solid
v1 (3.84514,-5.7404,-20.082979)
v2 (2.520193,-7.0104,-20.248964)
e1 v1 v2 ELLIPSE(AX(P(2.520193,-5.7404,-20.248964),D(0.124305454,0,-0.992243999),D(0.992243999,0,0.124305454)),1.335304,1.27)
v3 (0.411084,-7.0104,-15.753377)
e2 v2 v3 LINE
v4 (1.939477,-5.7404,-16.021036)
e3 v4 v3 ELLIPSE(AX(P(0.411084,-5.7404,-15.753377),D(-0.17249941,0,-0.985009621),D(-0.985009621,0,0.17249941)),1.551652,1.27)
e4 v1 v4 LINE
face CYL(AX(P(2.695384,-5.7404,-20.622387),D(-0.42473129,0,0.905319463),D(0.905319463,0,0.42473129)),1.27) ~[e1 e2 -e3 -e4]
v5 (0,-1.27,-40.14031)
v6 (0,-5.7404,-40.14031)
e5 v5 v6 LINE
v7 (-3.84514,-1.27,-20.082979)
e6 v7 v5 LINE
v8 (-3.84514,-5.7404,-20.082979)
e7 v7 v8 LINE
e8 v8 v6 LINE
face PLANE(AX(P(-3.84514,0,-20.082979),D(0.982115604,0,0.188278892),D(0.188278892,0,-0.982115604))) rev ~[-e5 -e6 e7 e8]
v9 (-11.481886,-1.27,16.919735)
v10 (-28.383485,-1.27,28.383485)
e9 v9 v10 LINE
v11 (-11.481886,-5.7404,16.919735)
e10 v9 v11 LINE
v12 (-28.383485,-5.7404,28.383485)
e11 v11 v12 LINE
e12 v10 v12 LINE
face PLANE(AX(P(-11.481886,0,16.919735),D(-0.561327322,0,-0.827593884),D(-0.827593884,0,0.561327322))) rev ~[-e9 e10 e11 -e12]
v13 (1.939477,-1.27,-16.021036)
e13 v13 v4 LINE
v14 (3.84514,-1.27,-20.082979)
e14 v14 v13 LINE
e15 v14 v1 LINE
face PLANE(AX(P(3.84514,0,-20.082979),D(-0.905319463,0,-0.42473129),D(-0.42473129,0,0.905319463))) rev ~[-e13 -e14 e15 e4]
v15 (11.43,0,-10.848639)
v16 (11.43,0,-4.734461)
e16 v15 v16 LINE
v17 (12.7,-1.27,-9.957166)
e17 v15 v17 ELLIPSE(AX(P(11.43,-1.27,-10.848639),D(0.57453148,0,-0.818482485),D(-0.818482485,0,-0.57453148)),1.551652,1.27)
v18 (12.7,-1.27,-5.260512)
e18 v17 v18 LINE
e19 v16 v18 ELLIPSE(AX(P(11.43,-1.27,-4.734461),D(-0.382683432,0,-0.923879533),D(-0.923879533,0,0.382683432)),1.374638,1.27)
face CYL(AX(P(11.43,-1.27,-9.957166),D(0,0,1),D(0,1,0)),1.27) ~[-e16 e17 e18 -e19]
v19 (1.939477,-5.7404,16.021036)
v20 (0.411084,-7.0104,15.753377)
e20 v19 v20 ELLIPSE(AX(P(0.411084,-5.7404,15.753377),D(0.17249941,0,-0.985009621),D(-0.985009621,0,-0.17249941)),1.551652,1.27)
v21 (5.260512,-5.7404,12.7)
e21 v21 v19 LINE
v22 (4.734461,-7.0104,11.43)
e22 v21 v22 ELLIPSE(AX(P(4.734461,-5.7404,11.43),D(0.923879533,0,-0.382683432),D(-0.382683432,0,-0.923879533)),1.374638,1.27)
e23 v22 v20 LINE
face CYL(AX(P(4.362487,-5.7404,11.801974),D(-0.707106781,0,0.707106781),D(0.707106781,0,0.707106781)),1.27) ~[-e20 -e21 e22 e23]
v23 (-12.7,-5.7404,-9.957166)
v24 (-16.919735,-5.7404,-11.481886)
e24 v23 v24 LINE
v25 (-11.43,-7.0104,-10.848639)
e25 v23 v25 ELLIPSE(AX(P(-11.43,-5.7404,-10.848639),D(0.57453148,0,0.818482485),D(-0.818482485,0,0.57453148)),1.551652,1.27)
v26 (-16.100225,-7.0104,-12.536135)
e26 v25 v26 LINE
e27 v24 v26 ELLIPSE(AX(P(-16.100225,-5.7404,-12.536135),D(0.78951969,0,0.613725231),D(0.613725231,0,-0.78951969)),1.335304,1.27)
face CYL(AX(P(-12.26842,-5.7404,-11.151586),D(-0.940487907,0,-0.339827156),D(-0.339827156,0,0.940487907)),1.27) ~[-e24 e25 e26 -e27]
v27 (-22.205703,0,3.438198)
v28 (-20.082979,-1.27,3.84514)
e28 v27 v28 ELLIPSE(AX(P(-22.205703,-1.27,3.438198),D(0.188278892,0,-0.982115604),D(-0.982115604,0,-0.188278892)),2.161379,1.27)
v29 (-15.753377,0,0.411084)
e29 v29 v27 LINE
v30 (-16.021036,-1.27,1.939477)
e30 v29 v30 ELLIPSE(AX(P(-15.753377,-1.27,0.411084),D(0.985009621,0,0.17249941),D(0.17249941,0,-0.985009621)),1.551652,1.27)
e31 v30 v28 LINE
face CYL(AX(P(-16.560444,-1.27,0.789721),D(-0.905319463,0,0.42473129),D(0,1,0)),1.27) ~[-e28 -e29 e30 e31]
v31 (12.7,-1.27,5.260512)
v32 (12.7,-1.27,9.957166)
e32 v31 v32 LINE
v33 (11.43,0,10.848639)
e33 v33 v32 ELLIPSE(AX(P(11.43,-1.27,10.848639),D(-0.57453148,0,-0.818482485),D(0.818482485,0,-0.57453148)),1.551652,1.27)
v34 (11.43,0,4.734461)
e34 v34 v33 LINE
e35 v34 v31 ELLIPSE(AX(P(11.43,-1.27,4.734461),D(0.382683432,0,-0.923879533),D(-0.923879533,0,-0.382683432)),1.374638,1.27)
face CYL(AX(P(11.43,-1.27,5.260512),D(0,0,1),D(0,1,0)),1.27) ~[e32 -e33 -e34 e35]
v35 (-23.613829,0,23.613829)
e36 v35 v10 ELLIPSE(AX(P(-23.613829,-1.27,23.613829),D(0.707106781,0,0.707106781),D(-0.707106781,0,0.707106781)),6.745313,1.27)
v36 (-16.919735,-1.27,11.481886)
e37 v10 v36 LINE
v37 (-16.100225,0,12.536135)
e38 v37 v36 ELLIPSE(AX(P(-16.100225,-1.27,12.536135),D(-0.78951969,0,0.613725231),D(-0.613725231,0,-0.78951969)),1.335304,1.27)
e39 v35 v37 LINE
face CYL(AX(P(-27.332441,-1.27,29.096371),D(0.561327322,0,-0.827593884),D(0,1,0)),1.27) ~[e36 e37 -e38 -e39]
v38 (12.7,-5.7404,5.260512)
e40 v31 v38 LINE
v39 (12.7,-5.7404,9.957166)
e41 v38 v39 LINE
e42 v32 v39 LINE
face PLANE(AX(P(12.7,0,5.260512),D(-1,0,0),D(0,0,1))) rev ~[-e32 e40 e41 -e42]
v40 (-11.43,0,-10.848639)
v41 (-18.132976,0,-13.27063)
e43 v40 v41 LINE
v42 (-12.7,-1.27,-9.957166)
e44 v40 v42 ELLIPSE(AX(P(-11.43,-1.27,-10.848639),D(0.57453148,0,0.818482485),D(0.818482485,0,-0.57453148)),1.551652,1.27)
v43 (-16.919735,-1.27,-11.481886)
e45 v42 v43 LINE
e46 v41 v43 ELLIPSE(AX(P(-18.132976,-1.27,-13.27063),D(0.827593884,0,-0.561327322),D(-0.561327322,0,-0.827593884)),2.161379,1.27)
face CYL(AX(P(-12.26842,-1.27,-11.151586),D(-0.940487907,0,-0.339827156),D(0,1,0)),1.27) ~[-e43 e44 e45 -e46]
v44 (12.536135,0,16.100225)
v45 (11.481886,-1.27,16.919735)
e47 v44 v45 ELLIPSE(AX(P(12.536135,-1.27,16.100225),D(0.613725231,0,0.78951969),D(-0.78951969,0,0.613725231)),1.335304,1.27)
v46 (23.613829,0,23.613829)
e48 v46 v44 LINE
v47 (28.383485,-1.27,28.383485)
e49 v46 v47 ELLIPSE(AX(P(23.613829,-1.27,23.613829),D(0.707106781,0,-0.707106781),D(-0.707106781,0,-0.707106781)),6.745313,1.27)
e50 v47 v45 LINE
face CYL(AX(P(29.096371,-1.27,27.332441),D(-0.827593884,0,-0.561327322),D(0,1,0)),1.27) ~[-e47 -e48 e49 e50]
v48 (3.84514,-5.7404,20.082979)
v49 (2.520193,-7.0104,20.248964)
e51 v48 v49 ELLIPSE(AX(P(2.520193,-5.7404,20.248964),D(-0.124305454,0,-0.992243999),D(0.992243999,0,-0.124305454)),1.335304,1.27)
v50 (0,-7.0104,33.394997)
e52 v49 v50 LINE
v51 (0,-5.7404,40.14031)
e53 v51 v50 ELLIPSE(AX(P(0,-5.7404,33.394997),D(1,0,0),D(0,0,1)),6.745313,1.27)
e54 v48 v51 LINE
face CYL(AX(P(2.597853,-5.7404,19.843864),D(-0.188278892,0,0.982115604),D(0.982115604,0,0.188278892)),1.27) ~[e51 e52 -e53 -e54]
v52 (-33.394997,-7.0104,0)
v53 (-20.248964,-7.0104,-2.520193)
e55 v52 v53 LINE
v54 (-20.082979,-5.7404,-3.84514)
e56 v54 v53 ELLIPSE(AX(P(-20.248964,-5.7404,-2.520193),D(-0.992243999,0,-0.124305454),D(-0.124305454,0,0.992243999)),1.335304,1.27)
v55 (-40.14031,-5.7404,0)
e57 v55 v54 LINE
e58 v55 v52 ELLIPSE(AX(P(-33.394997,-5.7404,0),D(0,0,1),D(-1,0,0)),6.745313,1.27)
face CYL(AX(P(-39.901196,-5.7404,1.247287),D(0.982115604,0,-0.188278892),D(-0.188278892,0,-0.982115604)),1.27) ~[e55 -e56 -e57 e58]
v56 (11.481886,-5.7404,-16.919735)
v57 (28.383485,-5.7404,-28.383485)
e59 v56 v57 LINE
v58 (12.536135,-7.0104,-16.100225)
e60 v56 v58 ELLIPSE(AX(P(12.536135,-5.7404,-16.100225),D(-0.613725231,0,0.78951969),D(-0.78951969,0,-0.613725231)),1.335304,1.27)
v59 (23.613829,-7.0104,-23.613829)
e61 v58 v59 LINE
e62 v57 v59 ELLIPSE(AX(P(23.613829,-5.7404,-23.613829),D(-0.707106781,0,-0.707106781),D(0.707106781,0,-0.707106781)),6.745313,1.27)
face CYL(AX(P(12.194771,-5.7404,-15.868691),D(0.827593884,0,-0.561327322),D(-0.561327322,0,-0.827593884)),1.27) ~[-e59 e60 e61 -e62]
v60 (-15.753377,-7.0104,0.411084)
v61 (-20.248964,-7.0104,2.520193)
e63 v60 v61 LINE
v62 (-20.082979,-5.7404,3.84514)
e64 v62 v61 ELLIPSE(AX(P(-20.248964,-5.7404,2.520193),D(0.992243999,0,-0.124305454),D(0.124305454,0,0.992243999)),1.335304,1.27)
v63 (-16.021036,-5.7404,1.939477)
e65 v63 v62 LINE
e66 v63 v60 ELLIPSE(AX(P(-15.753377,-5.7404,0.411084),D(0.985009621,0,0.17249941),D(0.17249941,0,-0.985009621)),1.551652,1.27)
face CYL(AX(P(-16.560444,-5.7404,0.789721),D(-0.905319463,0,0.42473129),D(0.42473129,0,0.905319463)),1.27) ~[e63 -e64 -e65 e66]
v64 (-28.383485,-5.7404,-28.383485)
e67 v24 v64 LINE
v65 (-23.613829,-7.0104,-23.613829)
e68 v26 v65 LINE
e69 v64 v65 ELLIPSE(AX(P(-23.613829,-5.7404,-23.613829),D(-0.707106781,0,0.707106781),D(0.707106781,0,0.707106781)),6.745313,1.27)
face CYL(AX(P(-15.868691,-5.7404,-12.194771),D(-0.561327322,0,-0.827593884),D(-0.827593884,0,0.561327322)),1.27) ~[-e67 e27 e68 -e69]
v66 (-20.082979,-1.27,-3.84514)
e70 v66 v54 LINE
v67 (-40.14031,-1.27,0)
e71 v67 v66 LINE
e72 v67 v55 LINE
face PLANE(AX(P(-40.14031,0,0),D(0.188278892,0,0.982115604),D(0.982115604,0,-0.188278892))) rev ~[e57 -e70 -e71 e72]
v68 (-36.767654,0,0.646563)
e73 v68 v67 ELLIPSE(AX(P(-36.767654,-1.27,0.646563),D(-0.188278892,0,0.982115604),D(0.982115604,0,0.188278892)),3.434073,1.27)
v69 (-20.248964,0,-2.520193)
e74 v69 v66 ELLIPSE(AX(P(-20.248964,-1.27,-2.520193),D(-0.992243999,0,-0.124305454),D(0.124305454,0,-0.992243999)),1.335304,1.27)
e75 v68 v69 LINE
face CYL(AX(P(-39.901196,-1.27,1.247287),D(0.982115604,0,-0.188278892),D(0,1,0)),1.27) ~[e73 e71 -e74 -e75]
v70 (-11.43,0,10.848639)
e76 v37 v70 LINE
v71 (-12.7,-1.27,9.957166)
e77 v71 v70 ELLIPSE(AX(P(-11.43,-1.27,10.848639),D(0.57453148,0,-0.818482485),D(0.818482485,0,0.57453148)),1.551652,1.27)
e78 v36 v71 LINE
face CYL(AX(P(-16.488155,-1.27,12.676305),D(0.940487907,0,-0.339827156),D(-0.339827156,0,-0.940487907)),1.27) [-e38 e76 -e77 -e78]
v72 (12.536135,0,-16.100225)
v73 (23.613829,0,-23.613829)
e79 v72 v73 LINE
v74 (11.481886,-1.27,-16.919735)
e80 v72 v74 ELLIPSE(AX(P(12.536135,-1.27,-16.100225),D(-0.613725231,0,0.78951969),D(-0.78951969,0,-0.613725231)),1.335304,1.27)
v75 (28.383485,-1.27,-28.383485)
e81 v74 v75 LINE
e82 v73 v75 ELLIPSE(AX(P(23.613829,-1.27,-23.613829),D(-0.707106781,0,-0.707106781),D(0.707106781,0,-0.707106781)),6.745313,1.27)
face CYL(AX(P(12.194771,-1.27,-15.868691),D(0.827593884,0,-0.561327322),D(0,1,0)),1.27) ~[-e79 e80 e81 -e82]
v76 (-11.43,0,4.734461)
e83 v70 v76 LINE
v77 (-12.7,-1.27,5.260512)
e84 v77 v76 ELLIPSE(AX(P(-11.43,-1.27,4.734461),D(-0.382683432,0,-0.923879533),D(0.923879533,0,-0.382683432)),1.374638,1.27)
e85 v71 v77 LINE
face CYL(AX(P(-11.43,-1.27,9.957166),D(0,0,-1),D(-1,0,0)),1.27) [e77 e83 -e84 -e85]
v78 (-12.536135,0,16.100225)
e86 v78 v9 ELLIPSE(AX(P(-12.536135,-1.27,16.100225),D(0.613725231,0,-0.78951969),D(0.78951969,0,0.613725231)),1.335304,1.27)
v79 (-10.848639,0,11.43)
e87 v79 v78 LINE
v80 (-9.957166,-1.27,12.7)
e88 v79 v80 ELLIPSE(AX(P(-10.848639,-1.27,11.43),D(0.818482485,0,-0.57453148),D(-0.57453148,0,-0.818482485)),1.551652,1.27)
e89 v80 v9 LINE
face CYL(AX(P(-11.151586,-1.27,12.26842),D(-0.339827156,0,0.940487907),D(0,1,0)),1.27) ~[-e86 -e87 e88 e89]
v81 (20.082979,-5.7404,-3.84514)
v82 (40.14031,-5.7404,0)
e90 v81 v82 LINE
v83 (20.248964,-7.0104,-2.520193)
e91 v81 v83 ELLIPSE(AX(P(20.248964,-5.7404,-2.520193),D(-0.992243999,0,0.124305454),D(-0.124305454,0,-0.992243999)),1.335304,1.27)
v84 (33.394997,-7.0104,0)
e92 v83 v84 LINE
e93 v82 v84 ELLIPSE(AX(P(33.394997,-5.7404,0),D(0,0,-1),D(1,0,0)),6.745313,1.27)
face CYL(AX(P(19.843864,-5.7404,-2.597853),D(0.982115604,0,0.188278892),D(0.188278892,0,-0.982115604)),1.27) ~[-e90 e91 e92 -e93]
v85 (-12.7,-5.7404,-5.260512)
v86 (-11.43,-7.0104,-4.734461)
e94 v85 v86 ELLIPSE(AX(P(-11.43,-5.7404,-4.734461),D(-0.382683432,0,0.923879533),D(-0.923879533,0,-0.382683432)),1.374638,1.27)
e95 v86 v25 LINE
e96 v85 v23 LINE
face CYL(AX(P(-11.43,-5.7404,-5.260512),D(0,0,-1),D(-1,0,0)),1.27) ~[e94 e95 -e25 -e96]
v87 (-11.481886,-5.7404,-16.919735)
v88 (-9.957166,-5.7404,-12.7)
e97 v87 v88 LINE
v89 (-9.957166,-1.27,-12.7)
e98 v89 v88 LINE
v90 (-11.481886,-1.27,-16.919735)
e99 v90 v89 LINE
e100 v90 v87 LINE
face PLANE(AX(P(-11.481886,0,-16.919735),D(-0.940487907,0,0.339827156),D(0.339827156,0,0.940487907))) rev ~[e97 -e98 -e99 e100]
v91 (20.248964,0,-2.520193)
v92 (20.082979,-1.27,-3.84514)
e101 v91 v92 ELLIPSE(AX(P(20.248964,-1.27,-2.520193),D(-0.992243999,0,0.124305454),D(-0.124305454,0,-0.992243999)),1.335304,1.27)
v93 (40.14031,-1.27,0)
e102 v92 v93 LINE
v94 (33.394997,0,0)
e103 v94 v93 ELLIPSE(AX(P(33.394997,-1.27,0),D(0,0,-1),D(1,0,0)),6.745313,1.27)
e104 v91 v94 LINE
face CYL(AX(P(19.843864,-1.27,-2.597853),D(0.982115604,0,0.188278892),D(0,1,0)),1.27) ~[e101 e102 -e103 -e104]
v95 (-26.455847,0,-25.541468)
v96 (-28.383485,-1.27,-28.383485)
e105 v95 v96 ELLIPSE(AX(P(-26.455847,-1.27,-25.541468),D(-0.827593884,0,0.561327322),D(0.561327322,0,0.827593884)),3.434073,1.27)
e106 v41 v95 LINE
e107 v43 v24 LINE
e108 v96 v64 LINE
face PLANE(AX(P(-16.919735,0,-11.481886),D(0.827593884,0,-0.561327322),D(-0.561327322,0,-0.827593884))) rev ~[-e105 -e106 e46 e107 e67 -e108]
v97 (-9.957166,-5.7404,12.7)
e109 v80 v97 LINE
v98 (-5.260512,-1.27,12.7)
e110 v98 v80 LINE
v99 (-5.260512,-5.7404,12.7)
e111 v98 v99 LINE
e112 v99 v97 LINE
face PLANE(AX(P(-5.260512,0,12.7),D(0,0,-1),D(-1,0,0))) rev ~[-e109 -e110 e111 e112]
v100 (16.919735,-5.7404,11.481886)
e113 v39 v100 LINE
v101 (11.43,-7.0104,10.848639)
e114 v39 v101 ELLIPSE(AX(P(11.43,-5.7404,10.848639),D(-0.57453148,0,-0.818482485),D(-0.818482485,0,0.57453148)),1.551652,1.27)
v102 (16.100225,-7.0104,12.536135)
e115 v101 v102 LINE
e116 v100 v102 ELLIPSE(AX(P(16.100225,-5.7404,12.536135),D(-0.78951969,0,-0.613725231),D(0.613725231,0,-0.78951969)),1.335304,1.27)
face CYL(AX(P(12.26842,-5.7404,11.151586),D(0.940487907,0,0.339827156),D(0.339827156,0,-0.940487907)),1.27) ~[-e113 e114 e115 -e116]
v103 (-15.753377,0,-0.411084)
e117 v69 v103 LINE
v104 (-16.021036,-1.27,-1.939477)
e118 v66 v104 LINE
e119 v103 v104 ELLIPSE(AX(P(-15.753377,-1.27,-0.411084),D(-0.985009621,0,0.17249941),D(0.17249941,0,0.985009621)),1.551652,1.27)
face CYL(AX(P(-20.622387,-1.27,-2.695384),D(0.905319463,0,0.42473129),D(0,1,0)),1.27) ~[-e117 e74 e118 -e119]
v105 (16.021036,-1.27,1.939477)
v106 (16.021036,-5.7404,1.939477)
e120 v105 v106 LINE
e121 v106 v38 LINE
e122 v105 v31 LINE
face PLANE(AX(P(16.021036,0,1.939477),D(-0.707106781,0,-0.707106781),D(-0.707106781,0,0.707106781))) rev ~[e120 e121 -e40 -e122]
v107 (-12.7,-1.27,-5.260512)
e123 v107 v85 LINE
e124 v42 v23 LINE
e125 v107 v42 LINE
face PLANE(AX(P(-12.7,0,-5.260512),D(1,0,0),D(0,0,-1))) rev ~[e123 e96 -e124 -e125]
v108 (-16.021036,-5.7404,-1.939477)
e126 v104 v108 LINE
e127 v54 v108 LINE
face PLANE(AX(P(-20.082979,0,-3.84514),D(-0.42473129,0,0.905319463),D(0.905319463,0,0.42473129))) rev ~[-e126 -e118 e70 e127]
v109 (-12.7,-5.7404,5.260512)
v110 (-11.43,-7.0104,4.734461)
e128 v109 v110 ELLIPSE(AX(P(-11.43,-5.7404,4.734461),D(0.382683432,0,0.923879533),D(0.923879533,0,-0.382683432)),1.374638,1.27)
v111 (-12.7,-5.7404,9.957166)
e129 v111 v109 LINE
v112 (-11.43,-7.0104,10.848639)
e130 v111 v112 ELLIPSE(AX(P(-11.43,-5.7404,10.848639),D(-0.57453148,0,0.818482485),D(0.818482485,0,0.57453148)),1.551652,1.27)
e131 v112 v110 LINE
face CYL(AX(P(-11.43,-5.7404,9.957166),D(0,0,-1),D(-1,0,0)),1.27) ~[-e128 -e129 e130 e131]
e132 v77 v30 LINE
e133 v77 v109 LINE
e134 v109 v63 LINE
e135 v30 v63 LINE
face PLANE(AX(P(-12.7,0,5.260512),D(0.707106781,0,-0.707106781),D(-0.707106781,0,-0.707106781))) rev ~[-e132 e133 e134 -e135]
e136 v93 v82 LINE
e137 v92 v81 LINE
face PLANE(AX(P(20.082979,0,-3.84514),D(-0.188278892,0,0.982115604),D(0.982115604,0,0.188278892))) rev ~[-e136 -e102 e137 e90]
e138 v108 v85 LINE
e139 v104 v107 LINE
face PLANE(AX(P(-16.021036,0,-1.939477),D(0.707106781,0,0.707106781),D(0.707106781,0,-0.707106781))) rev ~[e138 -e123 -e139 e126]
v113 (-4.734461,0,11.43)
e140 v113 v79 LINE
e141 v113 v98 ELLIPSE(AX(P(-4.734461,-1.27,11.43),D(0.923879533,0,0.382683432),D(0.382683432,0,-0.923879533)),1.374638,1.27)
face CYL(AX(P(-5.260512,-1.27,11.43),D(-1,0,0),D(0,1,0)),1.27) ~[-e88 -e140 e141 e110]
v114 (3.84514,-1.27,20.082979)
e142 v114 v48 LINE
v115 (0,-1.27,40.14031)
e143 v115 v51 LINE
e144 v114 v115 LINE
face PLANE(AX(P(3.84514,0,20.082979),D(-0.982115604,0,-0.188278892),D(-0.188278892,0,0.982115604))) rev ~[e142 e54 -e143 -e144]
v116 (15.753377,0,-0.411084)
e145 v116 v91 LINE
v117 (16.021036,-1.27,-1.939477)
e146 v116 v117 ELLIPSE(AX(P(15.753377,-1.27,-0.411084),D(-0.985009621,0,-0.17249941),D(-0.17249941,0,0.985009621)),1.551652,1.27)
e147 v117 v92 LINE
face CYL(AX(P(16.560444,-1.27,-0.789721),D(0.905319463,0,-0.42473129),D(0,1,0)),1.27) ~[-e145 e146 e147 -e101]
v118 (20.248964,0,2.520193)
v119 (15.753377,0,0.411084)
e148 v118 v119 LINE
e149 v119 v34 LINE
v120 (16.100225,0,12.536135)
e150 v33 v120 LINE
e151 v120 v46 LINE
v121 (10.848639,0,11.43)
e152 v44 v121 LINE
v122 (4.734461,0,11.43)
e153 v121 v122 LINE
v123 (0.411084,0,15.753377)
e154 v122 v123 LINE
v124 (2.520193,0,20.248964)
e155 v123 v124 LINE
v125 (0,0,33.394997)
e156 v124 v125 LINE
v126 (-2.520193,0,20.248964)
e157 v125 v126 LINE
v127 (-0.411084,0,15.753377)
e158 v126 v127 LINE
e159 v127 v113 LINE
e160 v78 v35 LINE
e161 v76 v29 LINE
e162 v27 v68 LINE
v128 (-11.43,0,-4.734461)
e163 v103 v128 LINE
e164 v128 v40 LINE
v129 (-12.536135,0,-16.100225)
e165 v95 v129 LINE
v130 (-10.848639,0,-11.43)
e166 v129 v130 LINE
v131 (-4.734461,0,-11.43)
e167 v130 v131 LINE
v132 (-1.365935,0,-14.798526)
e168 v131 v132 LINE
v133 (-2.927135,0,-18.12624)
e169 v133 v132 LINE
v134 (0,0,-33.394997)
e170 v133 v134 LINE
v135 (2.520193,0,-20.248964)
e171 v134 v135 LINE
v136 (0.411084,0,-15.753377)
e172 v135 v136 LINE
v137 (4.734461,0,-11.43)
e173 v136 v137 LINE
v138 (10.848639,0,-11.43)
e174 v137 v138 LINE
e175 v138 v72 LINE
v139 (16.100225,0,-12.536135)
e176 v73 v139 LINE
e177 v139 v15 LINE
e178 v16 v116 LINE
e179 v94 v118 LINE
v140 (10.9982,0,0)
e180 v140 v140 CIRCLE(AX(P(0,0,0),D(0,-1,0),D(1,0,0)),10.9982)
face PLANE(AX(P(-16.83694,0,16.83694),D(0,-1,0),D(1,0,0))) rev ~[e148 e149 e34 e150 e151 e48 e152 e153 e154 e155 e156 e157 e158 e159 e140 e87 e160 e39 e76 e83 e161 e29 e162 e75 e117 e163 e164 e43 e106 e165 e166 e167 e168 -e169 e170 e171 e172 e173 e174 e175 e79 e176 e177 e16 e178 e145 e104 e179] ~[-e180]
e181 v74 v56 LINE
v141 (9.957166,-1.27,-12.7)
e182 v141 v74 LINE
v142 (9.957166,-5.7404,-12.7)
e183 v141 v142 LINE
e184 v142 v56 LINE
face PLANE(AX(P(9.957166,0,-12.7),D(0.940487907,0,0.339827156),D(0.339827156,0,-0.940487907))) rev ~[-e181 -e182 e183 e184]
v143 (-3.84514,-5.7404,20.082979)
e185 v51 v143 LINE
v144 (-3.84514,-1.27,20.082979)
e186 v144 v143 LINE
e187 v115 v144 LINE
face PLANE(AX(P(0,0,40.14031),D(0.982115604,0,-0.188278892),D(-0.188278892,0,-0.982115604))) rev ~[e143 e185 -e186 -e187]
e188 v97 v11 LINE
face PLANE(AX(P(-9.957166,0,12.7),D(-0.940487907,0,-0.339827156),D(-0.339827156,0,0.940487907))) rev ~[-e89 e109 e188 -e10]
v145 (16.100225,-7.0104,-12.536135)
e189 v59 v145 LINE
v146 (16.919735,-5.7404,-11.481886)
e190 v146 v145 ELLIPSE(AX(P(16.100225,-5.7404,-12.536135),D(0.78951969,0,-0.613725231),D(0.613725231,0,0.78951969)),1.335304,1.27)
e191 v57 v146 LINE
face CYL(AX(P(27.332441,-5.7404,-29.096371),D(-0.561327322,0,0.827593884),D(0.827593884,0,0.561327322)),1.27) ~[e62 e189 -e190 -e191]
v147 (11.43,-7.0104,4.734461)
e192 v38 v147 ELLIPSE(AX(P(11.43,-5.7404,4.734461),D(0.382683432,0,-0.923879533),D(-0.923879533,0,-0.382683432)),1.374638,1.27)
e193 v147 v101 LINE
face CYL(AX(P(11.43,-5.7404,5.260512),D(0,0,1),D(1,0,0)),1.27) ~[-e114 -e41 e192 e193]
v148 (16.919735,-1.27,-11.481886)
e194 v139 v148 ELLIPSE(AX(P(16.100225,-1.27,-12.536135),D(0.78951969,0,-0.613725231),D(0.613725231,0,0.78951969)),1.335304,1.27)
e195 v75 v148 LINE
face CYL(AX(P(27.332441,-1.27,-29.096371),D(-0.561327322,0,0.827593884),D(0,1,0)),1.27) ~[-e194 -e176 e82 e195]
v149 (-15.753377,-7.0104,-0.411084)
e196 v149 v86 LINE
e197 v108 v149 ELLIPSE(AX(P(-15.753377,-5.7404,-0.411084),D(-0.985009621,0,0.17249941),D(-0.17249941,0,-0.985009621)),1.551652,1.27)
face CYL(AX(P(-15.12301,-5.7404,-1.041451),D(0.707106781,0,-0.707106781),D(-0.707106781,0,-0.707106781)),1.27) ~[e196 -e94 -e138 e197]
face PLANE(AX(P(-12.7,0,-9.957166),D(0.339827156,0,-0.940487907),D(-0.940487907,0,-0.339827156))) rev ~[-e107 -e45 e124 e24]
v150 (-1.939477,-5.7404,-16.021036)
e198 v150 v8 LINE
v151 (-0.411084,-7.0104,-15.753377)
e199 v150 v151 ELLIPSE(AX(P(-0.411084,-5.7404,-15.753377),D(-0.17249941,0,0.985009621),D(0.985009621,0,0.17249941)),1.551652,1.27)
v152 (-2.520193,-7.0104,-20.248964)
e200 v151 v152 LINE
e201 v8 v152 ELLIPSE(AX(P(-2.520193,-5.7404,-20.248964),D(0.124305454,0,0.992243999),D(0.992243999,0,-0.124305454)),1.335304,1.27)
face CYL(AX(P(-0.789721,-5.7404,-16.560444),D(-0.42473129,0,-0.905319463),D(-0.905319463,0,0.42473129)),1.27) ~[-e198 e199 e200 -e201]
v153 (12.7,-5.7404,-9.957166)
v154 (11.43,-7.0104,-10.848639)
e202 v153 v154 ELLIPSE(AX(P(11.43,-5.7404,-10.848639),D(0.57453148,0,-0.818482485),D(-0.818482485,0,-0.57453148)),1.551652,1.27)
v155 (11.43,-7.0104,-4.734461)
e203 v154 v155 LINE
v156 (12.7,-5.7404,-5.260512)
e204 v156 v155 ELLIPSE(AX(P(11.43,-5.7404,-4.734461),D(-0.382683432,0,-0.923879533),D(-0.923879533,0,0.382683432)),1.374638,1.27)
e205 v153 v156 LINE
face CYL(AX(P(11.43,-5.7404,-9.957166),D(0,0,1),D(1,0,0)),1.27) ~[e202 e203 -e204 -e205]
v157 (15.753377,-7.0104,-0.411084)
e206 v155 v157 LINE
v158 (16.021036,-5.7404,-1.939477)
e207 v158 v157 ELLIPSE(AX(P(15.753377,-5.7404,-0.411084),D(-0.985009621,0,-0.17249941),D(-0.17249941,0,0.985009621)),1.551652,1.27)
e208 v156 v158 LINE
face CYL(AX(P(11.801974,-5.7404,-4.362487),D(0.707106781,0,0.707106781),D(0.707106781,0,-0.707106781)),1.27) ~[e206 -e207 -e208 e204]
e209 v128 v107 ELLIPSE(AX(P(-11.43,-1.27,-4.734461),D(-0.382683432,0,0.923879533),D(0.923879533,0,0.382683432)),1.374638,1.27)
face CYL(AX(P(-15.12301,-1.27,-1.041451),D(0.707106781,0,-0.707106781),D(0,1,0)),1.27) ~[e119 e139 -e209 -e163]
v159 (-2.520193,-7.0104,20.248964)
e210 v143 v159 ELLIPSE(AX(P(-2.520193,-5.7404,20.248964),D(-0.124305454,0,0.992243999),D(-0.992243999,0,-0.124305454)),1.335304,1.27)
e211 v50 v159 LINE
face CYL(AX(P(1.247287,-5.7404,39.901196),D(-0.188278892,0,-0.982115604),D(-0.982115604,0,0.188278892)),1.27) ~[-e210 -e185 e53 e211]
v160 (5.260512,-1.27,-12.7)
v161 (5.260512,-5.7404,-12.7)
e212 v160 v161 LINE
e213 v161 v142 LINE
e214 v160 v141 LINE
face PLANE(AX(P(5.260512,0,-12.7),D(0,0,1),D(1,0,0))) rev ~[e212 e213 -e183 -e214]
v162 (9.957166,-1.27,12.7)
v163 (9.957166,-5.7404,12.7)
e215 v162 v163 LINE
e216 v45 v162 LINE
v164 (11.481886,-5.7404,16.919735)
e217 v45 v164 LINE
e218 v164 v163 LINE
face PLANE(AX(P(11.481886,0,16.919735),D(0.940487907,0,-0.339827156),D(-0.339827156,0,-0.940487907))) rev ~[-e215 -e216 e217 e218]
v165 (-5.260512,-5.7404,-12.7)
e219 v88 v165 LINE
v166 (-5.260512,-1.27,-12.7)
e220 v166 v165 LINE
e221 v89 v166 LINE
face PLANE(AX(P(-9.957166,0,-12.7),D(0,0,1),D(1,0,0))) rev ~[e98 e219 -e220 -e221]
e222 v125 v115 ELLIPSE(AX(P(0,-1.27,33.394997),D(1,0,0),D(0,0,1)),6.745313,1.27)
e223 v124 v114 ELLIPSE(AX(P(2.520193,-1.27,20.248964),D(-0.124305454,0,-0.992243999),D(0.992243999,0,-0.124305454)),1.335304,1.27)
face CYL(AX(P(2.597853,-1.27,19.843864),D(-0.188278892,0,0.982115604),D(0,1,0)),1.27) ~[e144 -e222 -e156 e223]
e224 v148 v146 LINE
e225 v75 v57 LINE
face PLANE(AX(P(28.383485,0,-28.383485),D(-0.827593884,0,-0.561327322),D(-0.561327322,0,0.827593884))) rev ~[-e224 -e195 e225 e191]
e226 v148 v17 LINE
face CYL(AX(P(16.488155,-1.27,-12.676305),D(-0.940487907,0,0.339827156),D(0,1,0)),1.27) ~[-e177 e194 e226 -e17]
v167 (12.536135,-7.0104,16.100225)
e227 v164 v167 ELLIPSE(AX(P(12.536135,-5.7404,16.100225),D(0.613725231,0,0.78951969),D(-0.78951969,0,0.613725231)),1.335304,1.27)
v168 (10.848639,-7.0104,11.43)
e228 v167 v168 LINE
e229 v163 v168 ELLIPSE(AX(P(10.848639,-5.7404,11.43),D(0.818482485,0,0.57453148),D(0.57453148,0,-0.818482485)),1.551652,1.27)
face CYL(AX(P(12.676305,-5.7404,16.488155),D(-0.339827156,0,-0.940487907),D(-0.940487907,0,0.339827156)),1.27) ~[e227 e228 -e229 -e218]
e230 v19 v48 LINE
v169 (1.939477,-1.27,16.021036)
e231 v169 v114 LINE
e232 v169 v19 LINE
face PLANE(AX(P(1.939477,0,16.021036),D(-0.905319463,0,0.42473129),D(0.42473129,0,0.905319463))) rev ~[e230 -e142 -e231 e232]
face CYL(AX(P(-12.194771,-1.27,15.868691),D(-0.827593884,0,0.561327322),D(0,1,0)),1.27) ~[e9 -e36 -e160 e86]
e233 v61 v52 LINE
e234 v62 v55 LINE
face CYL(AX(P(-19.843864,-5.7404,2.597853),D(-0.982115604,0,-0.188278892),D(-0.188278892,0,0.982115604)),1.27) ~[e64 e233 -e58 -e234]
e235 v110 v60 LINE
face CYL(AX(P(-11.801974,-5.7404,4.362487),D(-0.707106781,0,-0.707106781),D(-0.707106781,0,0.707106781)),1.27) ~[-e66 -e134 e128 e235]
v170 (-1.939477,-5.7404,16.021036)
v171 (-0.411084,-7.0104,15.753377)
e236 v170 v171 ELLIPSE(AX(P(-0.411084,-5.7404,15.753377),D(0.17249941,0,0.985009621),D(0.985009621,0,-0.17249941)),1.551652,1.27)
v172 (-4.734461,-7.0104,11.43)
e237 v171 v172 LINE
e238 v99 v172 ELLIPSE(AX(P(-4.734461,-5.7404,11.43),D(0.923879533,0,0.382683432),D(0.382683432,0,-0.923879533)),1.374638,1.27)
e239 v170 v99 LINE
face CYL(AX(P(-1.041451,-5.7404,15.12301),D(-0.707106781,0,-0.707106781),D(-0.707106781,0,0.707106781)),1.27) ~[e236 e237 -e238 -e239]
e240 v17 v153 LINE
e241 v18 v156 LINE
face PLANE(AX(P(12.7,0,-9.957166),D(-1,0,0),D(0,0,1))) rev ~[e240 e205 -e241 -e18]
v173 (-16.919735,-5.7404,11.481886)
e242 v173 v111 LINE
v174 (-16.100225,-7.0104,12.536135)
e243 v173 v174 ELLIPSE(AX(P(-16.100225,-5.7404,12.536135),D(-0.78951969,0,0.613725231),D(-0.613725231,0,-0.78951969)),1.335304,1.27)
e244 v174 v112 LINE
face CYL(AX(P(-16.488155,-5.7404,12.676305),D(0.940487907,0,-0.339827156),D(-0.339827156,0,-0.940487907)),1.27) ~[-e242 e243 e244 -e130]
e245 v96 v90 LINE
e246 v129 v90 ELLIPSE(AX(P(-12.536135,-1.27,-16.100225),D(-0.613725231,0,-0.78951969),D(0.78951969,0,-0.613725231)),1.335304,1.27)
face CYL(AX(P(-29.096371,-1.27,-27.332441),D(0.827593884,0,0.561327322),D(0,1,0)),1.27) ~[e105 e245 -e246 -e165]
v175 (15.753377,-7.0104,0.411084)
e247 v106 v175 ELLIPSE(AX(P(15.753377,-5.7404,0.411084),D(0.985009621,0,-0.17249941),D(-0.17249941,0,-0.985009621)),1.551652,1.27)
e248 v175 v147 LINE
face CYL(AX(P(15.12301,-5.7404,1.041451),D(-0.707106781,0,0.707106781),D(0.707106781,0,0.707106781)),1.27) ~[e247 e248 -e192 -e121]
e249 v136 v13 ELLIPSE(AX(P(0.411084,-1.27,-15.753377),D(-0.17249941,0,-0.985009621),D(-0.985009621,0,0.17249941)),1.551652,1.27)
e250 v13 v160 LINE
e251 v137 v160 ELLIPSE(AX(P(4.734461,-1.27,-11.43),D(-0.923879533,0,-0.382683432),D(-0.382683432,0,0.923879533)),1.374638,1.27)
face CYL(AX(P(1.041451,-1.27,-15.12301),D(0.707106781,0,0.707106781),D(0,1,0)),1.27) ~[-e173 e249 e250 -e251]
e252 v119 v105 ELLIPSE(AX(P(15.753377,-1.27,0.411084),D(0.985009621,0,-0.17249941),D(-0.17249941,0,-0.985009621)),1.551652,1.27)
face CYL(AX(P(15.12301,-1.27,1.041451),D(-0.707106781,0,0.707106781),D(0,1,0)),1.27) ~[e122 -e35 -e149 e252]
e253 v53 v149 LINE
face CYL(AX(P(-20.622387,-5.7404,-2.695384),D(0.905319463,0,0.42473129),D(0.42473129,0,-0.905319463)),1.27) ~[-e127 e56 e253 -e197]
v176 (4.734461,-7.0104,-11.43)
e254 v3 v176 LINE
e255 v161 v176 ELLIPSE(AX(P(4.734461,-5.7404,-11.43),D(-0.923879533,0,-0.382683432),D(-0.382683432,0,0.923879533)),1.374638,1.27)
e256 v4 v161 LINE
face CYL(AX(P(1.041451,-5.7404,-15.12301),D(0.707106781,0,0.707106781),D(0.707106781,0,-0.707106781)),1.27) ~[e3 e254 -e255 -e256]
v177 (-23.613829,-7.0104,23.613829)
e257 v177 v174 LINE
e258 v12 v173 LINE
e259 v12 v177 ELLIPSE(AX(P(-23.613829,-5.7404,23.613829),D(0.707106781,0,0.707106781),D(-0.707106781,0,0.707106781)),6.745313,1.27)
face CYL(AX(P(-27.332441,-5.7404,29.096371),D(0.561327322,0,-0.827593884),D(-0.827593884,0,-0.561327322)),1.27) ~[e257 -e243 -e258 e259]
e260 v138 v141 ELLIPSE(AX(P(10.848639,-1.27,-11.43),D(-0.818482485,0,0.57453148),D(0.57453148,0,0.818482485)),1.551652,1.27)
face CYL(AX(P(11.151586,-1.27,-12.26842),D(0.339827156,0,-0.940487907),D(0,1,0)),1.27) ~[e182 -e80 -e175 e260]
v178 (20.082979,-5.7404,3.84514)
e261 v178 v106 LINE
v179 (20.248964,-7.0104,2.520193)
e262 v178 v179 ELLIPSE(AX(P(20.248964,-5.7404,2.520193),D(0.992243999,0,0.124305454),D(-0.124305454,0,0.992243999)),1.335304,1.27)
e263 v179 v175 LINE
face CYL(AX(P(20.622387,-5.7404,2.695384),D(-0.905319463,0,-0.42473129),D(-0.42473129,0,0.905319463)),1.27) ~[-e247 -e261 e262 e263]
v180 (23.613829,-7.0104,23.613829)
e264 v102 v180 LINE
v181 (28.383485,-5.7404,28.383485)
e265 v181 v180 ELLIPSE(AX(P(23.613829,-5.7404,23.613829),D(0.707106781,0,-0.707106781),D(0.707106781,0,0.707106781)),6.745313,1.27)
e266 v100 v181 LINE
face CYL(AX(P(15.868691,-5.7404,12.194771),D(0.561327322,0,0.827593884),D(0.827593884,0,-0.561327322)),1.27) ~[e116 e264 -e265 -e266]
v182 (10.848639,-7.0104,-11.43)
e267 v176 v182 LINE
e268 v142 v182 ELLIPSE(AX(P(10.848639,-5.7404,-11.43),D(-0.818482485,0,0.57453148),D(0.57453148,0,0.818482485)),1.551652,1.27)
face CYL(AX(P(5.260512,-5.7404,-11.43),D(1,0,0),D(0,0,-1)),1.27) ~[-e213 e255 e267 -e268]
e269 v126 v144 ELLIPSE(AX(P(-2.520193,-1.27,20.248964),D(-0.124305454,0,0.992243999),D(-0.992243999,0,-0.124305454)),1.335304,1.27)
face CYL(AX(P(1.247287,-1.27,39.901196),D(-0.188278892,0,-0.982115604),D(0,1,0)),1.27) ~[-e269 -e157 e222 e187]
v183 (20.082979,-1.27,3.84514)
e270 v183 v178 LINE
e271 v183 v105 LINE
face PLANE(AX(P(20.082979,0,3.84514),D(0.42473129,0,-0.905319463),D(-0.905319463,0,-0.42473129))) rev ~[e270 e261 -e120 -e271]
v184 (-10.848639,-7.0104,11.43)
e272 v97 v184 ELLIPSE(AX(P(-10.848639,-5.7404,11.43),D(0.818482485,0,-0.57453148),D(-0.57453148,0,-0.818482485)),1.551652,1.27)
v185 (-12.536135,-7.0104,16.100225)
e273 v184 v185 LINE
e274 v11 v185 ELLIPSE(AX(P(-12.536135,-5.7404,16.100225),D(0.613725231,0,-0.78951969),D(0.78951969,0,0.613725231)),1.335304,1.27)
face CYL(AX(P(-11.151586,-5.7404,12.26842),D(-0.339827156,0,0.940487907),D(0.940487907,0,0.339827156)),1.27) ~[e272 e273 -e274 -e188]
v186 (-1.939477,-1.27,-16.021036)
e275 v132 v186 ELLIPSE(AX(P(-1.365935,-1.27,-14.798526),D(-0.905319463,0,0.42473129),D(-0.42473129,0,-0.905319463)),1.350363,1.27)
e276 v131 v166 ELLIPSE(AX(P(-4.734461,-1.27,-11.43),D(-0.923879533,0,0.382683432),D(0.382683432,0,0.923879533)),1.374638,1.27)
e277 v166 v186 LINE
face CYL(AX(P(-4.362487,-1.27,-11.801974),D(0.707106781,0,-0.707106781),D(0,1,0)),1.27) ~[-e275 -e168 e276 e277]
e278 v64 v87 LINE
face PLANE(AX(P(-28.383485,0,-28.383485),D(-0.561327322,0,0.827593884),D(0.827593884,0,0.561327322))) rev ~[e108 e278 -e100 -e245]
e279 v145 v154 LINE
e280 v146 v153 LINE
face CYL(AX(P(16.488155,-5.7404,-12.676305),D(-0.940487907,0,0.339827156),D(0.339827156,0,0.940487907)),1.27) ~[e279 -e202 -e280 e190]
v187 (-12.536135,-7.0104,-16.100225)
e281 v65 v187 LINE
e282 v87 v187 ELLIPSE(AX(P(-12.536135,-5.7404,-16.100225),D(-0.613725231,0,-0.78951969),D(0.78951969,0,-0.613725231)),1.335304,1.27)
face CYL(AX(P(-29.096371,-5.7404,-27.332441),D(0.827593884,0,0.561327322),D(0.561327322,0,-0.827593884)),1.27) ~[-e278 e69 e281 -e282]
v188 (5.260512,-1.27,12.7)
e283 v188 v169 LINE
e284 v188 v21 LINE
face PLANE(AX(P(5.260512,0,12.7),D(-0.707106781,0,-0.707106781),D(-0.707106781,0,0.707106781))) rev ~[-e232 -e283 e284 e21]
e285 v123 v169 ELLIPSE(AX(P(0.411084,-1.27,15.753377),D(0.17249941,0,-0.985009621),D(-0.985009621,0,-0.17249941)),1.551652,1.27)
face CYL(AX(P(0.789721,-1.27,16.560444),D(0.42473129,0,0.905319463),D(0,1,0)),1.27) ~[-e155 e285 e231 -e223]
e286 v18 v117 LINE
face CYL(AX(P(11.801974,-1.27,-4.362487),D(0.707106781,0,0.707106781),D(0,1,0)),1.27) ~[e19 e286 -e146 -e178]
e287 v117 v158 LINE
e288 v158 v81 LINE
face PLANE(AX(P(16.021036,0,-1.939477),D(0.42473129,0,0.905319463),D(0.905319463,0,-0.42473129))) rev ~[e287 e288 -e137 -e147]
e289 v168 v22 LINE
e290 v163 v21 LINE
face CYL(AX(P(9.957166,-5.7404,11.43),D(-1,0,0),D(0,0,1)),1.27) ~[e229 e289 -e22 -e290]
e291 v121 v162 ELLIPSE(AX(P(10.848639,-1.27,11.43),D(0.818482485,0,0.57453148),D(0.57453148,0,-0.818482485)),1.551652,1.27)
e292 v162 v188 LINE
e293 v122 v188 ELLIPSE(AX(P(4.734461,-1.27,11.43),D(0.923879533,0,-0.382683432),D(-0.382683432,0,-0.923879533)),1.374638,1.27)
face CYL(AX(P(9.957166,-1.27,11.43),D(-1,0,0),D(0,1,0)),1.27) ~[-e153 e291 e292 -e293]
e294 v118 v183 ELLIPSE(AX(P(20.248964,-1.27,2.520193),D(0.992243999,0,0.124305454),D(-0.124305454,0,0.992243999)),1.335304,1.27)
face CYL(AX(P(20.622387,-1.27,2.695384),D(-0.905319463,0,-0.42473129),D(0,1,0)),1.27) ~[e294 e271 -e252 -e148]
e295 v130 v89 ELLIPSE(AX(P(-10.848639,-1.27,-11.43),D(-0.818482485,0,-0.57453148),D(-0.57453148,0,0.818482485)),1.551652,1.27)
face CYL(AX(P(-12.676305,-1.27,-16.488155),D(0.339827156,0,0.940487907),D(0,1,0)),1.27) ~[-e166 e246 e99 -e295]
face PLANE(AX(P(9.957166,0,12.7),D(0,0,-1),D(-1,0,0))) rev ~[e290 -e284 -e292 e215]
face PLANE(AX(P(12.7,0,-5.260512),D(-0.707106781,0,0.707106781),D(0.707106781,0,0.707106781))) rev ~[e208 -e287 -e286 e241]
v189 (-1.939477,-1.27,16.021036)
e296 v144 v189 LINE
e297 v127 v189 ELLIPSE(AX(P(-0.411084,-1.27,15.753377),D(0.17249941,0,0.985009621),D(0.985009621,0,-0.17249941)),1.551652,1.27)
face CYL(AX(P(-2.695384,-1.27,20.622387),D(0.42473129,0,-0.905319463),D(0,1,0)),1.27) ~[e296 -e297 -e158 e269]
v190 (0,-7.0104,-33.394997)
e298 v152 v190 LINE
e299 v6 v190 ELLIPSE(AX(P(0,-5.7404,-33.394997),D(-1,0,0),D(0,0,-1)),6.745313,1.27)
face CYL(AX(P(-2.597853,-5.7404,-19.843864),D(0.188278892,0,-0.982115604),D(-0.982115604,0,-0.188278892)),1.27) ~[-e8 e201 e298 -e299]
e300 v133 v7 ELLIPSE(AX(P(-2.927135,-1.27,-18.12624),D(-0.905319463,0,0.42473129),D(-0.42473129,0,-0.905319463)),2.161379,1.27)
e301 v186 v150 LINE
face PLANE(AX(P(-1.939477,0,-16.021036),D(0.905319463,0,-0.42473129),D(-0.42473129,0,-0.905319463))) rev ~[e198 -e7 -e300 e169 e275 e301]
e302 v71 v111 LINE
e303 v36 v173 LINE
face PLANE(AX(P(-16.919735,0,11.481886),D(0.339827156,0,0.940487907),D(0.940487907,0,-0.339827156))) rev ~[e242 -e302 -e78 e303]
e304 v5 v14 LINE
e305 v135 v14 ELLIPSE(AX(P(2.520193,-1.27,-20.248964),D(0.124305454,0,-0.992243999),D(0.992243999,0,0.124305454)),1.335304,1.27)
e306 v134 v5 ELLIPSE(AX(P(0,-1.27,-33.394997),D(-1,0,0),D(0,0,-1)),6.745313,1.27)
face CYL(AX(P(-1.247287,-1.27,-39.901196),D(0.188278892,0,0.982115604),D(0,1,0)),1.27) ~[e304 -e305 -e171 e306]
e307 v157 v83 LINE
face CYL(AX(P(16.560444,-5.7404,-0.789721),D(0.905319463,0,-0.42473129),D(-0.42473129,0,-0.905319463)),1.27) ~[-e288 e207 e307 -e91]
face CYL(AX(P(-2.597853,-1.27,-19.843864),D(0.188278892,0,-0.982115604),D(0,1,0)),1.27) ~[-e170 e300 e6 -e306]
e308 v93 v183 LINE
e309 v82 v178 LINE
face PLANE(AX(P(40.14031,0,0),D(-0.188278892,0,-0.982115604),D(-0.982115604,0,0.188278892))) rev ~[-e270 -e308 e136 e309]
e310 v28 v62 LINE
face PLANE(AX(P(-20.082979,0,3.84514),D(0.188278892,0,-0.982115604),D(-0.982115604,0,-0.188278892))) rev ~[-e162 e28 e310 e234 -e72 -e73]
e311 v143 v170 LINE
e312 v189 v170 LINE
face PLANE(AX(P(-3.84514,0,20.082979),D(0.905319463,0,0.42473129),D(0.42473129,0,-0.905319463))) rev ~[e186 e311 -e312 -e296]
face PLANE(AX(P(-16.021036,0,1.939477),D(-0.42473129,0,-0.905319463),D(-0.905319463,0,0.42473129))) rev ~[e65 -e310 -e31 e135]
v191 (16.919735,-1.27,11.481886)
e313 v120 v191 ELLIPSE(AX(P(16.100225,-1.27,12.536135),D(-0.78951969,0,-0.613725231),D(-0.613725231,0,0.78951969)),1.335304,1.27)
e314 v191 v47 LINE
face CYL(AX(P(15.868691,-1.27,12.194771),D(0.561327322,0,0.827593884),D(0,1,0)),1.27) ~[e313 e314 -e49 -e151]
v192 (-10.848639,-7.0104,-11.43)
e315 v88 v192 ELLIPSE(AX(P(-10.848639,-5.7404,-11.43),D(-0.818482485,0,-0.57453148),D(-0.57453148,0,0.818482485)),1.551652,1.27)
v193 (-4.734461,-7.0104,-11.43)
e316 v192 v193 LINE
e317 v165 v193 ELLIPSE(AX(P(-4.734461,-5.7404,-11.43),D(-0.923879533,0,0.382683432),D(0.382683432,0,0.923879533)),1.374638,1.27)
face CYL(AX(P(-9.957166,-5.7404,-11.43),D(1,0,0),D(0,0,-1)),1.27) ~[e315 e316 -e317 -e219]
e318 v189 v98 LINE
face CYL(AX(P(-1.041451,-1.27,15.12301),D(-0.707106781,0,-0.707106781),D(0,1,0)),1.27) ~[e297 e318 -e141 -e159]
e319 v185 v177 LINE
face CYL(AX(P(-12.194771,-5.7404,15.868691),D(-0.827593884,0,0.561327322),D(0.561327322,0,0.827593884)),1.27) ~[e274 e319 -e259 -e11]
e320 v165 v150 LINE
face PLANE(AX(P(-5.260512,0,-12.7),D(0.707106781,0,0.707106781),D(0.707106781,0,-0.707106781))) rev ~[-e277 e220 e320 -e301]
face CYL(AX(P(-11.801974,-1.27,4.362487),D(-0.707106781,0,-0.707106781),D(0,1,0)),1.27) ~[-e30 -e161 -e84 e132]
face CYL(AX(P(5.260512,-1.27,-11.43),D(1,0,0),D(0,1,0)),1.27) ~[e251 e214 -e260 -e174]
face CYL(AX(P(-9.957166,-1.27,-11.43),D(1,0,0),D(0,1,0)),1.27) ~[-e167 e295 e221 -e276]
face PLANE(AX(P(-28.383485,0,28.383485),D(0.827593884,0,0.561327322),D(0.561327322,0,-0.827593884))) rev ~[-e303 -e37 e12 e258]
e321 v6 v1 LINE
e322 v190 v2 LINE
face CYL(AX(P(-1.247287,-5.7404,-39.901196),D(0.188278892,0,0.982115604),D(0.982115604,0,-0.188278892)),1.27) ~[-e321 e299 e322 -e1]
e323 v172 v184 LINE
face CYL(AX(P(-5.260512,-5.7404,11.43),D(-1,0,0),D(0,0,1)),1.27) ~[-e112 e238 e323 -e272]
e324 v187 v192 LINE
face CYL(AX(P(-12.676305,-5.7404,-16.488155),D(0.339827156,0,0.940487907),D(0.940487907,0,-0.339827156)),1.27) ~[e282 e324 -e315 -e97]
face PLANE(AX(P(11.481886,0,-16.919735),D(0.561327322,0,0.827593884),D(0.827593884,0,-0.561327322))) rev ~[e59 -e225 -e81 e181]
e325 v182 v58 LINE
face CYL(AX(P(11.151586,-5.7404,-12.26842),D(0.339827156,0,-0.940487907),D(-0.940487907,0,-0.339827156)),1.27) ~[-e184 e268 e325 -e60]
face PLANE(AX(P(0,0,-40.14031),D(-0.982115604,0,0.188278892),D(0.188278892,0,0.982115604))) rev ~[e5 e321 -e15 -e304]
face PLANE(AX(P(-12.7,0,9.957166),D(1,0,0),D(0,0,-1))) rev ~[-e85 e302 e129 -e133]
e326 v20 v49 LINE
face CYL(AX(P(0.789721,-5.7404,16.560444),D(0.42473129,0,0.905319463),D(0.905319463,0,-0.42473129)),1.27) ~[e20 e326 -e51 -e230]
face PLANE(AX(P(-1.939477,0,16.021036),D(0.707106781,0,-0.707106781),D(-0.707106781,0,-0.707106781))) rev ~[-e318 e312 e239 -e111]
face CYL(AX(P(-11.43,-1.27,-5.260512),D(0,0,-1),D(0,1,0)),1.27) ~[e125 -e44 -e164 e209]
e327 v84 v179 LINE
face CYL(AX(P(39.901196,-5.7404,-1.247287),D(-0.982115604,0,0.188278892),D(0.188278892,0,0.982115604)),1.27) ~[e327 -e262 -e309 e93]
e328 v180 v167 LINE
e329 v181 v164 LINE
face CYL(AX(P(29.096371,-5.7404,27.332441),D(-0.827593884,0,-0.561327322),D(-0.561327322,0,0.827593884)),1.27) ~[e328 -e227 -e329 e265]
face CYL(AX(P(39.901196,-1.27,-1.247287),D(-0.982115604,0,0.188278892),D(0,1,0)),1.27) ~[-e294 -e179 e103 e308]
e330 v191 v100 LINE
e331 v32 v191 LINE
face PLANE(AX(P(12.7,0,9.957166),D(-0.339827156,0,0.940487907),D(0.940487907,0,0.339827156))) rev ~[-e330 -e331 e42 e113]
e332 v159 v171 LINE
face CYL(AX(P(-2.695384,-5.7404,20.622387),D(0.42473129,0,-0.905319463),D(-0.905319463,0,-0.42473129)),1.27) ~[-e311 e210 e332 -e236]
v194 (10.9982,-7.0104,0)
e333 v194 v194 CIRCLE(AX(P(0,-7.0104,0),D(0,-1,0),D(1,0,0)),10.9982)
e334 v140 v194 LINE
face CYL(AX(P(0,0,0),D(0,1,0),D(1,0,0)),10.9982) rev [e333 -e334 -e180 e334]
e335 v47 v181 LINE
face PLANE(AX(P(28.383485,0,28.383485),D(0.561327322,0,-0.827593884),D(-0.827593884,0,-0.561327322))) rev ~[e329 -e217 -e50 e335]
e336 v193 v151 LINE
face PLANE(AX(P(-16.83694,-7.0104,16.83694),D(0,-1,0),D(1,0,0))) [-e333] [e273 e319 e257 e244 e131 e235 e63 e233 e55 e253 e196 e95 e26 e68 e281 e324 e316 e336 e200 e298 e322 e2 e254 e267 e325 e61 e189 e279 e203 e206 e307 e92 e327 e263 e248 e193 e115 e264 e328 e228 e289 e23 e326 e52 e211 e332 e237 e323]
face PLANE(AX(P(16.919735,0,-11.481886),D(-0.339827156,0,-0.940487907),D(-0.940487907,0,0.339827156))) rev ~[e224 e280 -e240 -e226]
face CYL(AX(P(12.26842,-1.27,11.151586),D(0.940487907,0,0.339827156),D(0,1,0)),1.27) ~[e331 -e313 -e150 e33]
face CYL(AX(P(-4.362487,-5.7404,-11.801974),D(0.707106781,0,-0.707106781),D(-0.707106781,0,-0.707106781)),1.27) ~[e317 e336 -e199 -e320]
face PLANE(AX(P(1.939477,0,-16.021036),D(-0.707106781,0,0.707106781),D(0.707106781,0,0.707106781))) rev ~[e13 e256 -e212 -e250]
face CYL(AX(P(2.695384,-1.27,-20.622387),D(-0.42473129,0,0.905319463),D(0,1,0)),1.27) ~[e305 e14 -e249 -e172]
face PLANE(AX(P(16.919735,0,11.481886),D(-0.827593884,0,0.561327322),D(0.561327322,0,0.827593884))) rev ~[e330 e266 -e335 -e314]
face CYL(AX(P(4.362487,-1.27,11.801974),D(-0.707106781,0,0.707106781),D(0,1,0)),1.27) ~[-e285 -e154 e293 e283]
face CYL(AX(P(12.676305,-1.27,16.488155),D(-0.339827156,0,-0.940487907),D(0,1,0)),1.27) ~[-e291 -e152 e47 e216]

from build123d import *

# Parameters (mm, degrees)
F0_R     = 10.9982
F1_DEPTH = 7.0104
F2_R     = 1.27
F3_R     = 1.27


with BuildPart() as f1:
    # F0 (on Front) → F1 (new body)
    with BuildSketch(Plane.XZ):
        Polygon((-12.7, 9.9571658781), (-12.7, 5.2605122421), (-5.2605122421, 12.7), (-9.9571658781, 12.7), (-11.4818856978, 16.9197350247), (-28.3834853749, 28.3834853749), (-16.9197350247, 11.4818856978), align=None)
        Polygon((-16.0210356348, -1.9394766073), (-12.7, -5.2605122421), (-12.7, 5.2605122421), (-16.0210356348, 1.9394766073), (-20.0829786096, 3.8451401341), (-40.1403099645, 0), (-20.0829786096, -3.8451401341), align=None)
        Polygon((-9.9571658781, -12.7), (-5.2605122421, -12.7), (-12.7, -5.2605122421), (-12.7, -9.9571658781), (-16.9197350247, -11.4818856978), (-28.3834853749, -28.3834853749), (-11.4818856978, -16.9197350247), align=None)
        Polygon((1.9394766073, -16.0210356348), (5.2605122421, -12.7), (-5.2605122421, -12.7), (-1.9394766073, -16.0210356348), (-3.8451401341, -20.0829786096), (0, -40.1403099645), (3.8451401341, -20.0829786096), align=None)
        Polygon((12.7, -5.2605122421), (5.2605122421, -12.7), (9.9571658781, -12.7), (11.4818856978, -16.9197350247), (28.3834853749, -28.3834853749), (16.9197350247, -11.4818856978), (12.7, -9.9571658781), align=None)
        Polygon((12.7, 5.2605122421), (12.7, -5.2605122421), (16.0210356348, -1.9394766073), (20.0829786096, -3.8451401341), (40.1403099645, 0), (20.0829786096, 3.8451401341), (16.0210356348, 1.9394766073), align=None)
        Polygon((5.2605122421, 12.7), (12.7, 5.2605122421), (12.7, 9.9571658781), (16.9197350247, 11.4818856978), (28.3834853749, 28.3834853749), (11.4818856978, 16.9197350247), (9.9571658781, 12.7), align=None)
        Polygon((-5.2605122421, 12.7), (5.2605122421, 12.7), (1.9394766073, 16.0210356348), (3.8451401341, 20.0829786096), (0, 40.1403099645), (-3.8451401341, 20.0829786096), (-1.9394766073, 16.0210356348), align=None)
        Polygon((-5.2605122421, -12.7), (5.2605122421, -12.7), (12.7, -5.2605122421), (12.7, 5.2605122421), (5.2605122421, 12.7), (-5.2605122421, 12.7), (-12.7, 5.2605122421), (-12.7, -5.2605122421), align=None)
        Circle(F0_R, mode=Mode.SUBTRACT)
    extrude(amount=F1_DEPTH)

    # F2
    f2_edges = [f1.edges().sort_by_distance(p)[0] for p in [
        (-1.92257, -7.0104, -30.111644),
        (1.92257, -7.0104, -30.111644),
        (2.892308, -7.0104, -18.052007),
        (3.599994, -7.0104, -14.360518),
        (7.608839, -7.0104, -12.7),
        (10.719526, -7.0104, -14.809868),
        (19.932686, -7.0104, -22.65161),
        (22.65161, -7.0104, -19.932686),
        (14.809868, -7.0104, -10.719526),
        (12.7, -7.0104, -7.608839),
        (14.360518, -7.0104, -3.599994),
        (18.052007, -7.0104, -2.892308),
        (30.111644, -7.0104, -1.92257),
        (30.111644, -7.0104, 1.92257),
        (18.052007, -7.0104, 2.892308),
        (14.360518, -7.0104, 3.599994),
        (12.7, -7.0104, 7.608839),
        (14.809868, -7.0104, 10.719526),
        (22.65161, -7.0104, 19.932686),
        (19.932686, -7.0104, 22.65161),
        (10.719526, -7.0104, 14.809868),
        (7.608839, -7.0104, 12.7),
        (3.599994, -7.0104, 14.360518),
        (2.892308, -7.0104, 18.052007),
        (1.92257, -7.0104, 30.111644),
        (-1.92257, -7.0104, 30.111644),
        (-2.892308, -7.0104, 18.052007),
        (-3.599994, -7.0104, 14.360518),
        (-7.608839, -7.0104, 12.7),
        (-10.719526, -7.0104, 14.809868),
        (-19.932686, -7.0104, 22.65161),
        (-22.65161, -7.0104, 19.932686),
        (-14.809868, -7.0104, 10.719526),
        (-12.7, -7.0104, 7.608839),
        (-14.360518, -7.0104, 3.599994),
        (-18.052007, -7.0104, 2.892308),
        (-30.111644, -7.0104, 1.92257),
        (-19.932686, -7.0104, -22.65161),
        (-10.719526, -7.0104, -14.809868),
        (-7.608839, -7.0104, -12.7),
        (-3.599994, -7.0104, -14.360518),
        (-22.65161, -7.0104, -19.932686),
        (-14.809868, -7.0104, -10.719526),
        (-12.7, -7.0104, -7.608839),
        (-14.360518, -7.0104, -3.599994),
        (-18.052007, -7.0104, -2.892308),
        (-30.111644, -7.0104, -1.92257),
        (-2.892308, -7.0104, -18.052007),
    ]]
    fillet(f2_edges, radius=F2_R)

    # F3
    f3_edges = [f1.edges().sort_by_distance(p)[0] for p in [
        (19.932686, 0, 22.65161),
        (22.65161, 0, 19.932686),
        (14.809868, 0, 10.719526),
        (10.719526, 0, 14.809868),
        (7.608839, 0, 12.7),
        (3.599994, 0, 14.360518),
        (2.892308, 0, 18.052007),
        (1.92257, 0, 30.111644),
        (-1.92257, 0, 30.111644),
        (-2.892308, 0, 18.052007),
        (-3.599994, 0, 14.360518),
        (-7.608839, 0, 12.7),
        (-10.719526, 0, 14.809868),
        (-19.932686, 0, 22.65161),
        (-22.65161, 0, 19.932686),
        (-14.809868, 0, 10.719526),
        (-12.7, 0, 7.608839),
        (-14.360518, 0, 3.599994),
        (-18.052007, 0, 2.892308),
        (-30.111644, -5.7404, 1.92257),
        (-30.111644, 0, -1.92257),
        (-18.052007, 0, -2.892308),
        (-14.360518, 0, -3.599994),
        (-12.7, 0, -7.608839),
        (-14.809868, 0, -10.719526),
        (-22.65161, -5.7404, -19.932686),
        (-19.932686, 0, -22.65161),
        (-10.719526, 0, -14.809868),
        (-7.608839, 0, -12.7),
        (-3.599994, 0, -14.360518),
        (-2.892308, -5.7404, -18.052007),
        (-1.92257, 0, -30.111644),
        (1.92257, 0, -30.111644),
        (2.892308, 0, -18.052007),
        (3.599994, 0, -14.360518),
        (7.608839, 0, -12.7),
        (10.719526, 0, -14.809868),
        (19.932686, 0, -22.65161),
        (22.65161, 0, -19.932686),
        (14.809868, 0, -10.719526),
        (12.7, 0, -7.608839),
        (14.360518, 0, -3.599994),
        (18.052007, 0, -2.892308),
        (30.111644, 0, -1.92257),
        (30.111644, 0, 1.92257),
        (18.052007, 0, 2.892308),
        (14.360518, 0, 3.599994),
        (12.7, 0, 7.608839),
    ]]
    fillet(f3_edges, radius=F3_R)


solid = f1.part
